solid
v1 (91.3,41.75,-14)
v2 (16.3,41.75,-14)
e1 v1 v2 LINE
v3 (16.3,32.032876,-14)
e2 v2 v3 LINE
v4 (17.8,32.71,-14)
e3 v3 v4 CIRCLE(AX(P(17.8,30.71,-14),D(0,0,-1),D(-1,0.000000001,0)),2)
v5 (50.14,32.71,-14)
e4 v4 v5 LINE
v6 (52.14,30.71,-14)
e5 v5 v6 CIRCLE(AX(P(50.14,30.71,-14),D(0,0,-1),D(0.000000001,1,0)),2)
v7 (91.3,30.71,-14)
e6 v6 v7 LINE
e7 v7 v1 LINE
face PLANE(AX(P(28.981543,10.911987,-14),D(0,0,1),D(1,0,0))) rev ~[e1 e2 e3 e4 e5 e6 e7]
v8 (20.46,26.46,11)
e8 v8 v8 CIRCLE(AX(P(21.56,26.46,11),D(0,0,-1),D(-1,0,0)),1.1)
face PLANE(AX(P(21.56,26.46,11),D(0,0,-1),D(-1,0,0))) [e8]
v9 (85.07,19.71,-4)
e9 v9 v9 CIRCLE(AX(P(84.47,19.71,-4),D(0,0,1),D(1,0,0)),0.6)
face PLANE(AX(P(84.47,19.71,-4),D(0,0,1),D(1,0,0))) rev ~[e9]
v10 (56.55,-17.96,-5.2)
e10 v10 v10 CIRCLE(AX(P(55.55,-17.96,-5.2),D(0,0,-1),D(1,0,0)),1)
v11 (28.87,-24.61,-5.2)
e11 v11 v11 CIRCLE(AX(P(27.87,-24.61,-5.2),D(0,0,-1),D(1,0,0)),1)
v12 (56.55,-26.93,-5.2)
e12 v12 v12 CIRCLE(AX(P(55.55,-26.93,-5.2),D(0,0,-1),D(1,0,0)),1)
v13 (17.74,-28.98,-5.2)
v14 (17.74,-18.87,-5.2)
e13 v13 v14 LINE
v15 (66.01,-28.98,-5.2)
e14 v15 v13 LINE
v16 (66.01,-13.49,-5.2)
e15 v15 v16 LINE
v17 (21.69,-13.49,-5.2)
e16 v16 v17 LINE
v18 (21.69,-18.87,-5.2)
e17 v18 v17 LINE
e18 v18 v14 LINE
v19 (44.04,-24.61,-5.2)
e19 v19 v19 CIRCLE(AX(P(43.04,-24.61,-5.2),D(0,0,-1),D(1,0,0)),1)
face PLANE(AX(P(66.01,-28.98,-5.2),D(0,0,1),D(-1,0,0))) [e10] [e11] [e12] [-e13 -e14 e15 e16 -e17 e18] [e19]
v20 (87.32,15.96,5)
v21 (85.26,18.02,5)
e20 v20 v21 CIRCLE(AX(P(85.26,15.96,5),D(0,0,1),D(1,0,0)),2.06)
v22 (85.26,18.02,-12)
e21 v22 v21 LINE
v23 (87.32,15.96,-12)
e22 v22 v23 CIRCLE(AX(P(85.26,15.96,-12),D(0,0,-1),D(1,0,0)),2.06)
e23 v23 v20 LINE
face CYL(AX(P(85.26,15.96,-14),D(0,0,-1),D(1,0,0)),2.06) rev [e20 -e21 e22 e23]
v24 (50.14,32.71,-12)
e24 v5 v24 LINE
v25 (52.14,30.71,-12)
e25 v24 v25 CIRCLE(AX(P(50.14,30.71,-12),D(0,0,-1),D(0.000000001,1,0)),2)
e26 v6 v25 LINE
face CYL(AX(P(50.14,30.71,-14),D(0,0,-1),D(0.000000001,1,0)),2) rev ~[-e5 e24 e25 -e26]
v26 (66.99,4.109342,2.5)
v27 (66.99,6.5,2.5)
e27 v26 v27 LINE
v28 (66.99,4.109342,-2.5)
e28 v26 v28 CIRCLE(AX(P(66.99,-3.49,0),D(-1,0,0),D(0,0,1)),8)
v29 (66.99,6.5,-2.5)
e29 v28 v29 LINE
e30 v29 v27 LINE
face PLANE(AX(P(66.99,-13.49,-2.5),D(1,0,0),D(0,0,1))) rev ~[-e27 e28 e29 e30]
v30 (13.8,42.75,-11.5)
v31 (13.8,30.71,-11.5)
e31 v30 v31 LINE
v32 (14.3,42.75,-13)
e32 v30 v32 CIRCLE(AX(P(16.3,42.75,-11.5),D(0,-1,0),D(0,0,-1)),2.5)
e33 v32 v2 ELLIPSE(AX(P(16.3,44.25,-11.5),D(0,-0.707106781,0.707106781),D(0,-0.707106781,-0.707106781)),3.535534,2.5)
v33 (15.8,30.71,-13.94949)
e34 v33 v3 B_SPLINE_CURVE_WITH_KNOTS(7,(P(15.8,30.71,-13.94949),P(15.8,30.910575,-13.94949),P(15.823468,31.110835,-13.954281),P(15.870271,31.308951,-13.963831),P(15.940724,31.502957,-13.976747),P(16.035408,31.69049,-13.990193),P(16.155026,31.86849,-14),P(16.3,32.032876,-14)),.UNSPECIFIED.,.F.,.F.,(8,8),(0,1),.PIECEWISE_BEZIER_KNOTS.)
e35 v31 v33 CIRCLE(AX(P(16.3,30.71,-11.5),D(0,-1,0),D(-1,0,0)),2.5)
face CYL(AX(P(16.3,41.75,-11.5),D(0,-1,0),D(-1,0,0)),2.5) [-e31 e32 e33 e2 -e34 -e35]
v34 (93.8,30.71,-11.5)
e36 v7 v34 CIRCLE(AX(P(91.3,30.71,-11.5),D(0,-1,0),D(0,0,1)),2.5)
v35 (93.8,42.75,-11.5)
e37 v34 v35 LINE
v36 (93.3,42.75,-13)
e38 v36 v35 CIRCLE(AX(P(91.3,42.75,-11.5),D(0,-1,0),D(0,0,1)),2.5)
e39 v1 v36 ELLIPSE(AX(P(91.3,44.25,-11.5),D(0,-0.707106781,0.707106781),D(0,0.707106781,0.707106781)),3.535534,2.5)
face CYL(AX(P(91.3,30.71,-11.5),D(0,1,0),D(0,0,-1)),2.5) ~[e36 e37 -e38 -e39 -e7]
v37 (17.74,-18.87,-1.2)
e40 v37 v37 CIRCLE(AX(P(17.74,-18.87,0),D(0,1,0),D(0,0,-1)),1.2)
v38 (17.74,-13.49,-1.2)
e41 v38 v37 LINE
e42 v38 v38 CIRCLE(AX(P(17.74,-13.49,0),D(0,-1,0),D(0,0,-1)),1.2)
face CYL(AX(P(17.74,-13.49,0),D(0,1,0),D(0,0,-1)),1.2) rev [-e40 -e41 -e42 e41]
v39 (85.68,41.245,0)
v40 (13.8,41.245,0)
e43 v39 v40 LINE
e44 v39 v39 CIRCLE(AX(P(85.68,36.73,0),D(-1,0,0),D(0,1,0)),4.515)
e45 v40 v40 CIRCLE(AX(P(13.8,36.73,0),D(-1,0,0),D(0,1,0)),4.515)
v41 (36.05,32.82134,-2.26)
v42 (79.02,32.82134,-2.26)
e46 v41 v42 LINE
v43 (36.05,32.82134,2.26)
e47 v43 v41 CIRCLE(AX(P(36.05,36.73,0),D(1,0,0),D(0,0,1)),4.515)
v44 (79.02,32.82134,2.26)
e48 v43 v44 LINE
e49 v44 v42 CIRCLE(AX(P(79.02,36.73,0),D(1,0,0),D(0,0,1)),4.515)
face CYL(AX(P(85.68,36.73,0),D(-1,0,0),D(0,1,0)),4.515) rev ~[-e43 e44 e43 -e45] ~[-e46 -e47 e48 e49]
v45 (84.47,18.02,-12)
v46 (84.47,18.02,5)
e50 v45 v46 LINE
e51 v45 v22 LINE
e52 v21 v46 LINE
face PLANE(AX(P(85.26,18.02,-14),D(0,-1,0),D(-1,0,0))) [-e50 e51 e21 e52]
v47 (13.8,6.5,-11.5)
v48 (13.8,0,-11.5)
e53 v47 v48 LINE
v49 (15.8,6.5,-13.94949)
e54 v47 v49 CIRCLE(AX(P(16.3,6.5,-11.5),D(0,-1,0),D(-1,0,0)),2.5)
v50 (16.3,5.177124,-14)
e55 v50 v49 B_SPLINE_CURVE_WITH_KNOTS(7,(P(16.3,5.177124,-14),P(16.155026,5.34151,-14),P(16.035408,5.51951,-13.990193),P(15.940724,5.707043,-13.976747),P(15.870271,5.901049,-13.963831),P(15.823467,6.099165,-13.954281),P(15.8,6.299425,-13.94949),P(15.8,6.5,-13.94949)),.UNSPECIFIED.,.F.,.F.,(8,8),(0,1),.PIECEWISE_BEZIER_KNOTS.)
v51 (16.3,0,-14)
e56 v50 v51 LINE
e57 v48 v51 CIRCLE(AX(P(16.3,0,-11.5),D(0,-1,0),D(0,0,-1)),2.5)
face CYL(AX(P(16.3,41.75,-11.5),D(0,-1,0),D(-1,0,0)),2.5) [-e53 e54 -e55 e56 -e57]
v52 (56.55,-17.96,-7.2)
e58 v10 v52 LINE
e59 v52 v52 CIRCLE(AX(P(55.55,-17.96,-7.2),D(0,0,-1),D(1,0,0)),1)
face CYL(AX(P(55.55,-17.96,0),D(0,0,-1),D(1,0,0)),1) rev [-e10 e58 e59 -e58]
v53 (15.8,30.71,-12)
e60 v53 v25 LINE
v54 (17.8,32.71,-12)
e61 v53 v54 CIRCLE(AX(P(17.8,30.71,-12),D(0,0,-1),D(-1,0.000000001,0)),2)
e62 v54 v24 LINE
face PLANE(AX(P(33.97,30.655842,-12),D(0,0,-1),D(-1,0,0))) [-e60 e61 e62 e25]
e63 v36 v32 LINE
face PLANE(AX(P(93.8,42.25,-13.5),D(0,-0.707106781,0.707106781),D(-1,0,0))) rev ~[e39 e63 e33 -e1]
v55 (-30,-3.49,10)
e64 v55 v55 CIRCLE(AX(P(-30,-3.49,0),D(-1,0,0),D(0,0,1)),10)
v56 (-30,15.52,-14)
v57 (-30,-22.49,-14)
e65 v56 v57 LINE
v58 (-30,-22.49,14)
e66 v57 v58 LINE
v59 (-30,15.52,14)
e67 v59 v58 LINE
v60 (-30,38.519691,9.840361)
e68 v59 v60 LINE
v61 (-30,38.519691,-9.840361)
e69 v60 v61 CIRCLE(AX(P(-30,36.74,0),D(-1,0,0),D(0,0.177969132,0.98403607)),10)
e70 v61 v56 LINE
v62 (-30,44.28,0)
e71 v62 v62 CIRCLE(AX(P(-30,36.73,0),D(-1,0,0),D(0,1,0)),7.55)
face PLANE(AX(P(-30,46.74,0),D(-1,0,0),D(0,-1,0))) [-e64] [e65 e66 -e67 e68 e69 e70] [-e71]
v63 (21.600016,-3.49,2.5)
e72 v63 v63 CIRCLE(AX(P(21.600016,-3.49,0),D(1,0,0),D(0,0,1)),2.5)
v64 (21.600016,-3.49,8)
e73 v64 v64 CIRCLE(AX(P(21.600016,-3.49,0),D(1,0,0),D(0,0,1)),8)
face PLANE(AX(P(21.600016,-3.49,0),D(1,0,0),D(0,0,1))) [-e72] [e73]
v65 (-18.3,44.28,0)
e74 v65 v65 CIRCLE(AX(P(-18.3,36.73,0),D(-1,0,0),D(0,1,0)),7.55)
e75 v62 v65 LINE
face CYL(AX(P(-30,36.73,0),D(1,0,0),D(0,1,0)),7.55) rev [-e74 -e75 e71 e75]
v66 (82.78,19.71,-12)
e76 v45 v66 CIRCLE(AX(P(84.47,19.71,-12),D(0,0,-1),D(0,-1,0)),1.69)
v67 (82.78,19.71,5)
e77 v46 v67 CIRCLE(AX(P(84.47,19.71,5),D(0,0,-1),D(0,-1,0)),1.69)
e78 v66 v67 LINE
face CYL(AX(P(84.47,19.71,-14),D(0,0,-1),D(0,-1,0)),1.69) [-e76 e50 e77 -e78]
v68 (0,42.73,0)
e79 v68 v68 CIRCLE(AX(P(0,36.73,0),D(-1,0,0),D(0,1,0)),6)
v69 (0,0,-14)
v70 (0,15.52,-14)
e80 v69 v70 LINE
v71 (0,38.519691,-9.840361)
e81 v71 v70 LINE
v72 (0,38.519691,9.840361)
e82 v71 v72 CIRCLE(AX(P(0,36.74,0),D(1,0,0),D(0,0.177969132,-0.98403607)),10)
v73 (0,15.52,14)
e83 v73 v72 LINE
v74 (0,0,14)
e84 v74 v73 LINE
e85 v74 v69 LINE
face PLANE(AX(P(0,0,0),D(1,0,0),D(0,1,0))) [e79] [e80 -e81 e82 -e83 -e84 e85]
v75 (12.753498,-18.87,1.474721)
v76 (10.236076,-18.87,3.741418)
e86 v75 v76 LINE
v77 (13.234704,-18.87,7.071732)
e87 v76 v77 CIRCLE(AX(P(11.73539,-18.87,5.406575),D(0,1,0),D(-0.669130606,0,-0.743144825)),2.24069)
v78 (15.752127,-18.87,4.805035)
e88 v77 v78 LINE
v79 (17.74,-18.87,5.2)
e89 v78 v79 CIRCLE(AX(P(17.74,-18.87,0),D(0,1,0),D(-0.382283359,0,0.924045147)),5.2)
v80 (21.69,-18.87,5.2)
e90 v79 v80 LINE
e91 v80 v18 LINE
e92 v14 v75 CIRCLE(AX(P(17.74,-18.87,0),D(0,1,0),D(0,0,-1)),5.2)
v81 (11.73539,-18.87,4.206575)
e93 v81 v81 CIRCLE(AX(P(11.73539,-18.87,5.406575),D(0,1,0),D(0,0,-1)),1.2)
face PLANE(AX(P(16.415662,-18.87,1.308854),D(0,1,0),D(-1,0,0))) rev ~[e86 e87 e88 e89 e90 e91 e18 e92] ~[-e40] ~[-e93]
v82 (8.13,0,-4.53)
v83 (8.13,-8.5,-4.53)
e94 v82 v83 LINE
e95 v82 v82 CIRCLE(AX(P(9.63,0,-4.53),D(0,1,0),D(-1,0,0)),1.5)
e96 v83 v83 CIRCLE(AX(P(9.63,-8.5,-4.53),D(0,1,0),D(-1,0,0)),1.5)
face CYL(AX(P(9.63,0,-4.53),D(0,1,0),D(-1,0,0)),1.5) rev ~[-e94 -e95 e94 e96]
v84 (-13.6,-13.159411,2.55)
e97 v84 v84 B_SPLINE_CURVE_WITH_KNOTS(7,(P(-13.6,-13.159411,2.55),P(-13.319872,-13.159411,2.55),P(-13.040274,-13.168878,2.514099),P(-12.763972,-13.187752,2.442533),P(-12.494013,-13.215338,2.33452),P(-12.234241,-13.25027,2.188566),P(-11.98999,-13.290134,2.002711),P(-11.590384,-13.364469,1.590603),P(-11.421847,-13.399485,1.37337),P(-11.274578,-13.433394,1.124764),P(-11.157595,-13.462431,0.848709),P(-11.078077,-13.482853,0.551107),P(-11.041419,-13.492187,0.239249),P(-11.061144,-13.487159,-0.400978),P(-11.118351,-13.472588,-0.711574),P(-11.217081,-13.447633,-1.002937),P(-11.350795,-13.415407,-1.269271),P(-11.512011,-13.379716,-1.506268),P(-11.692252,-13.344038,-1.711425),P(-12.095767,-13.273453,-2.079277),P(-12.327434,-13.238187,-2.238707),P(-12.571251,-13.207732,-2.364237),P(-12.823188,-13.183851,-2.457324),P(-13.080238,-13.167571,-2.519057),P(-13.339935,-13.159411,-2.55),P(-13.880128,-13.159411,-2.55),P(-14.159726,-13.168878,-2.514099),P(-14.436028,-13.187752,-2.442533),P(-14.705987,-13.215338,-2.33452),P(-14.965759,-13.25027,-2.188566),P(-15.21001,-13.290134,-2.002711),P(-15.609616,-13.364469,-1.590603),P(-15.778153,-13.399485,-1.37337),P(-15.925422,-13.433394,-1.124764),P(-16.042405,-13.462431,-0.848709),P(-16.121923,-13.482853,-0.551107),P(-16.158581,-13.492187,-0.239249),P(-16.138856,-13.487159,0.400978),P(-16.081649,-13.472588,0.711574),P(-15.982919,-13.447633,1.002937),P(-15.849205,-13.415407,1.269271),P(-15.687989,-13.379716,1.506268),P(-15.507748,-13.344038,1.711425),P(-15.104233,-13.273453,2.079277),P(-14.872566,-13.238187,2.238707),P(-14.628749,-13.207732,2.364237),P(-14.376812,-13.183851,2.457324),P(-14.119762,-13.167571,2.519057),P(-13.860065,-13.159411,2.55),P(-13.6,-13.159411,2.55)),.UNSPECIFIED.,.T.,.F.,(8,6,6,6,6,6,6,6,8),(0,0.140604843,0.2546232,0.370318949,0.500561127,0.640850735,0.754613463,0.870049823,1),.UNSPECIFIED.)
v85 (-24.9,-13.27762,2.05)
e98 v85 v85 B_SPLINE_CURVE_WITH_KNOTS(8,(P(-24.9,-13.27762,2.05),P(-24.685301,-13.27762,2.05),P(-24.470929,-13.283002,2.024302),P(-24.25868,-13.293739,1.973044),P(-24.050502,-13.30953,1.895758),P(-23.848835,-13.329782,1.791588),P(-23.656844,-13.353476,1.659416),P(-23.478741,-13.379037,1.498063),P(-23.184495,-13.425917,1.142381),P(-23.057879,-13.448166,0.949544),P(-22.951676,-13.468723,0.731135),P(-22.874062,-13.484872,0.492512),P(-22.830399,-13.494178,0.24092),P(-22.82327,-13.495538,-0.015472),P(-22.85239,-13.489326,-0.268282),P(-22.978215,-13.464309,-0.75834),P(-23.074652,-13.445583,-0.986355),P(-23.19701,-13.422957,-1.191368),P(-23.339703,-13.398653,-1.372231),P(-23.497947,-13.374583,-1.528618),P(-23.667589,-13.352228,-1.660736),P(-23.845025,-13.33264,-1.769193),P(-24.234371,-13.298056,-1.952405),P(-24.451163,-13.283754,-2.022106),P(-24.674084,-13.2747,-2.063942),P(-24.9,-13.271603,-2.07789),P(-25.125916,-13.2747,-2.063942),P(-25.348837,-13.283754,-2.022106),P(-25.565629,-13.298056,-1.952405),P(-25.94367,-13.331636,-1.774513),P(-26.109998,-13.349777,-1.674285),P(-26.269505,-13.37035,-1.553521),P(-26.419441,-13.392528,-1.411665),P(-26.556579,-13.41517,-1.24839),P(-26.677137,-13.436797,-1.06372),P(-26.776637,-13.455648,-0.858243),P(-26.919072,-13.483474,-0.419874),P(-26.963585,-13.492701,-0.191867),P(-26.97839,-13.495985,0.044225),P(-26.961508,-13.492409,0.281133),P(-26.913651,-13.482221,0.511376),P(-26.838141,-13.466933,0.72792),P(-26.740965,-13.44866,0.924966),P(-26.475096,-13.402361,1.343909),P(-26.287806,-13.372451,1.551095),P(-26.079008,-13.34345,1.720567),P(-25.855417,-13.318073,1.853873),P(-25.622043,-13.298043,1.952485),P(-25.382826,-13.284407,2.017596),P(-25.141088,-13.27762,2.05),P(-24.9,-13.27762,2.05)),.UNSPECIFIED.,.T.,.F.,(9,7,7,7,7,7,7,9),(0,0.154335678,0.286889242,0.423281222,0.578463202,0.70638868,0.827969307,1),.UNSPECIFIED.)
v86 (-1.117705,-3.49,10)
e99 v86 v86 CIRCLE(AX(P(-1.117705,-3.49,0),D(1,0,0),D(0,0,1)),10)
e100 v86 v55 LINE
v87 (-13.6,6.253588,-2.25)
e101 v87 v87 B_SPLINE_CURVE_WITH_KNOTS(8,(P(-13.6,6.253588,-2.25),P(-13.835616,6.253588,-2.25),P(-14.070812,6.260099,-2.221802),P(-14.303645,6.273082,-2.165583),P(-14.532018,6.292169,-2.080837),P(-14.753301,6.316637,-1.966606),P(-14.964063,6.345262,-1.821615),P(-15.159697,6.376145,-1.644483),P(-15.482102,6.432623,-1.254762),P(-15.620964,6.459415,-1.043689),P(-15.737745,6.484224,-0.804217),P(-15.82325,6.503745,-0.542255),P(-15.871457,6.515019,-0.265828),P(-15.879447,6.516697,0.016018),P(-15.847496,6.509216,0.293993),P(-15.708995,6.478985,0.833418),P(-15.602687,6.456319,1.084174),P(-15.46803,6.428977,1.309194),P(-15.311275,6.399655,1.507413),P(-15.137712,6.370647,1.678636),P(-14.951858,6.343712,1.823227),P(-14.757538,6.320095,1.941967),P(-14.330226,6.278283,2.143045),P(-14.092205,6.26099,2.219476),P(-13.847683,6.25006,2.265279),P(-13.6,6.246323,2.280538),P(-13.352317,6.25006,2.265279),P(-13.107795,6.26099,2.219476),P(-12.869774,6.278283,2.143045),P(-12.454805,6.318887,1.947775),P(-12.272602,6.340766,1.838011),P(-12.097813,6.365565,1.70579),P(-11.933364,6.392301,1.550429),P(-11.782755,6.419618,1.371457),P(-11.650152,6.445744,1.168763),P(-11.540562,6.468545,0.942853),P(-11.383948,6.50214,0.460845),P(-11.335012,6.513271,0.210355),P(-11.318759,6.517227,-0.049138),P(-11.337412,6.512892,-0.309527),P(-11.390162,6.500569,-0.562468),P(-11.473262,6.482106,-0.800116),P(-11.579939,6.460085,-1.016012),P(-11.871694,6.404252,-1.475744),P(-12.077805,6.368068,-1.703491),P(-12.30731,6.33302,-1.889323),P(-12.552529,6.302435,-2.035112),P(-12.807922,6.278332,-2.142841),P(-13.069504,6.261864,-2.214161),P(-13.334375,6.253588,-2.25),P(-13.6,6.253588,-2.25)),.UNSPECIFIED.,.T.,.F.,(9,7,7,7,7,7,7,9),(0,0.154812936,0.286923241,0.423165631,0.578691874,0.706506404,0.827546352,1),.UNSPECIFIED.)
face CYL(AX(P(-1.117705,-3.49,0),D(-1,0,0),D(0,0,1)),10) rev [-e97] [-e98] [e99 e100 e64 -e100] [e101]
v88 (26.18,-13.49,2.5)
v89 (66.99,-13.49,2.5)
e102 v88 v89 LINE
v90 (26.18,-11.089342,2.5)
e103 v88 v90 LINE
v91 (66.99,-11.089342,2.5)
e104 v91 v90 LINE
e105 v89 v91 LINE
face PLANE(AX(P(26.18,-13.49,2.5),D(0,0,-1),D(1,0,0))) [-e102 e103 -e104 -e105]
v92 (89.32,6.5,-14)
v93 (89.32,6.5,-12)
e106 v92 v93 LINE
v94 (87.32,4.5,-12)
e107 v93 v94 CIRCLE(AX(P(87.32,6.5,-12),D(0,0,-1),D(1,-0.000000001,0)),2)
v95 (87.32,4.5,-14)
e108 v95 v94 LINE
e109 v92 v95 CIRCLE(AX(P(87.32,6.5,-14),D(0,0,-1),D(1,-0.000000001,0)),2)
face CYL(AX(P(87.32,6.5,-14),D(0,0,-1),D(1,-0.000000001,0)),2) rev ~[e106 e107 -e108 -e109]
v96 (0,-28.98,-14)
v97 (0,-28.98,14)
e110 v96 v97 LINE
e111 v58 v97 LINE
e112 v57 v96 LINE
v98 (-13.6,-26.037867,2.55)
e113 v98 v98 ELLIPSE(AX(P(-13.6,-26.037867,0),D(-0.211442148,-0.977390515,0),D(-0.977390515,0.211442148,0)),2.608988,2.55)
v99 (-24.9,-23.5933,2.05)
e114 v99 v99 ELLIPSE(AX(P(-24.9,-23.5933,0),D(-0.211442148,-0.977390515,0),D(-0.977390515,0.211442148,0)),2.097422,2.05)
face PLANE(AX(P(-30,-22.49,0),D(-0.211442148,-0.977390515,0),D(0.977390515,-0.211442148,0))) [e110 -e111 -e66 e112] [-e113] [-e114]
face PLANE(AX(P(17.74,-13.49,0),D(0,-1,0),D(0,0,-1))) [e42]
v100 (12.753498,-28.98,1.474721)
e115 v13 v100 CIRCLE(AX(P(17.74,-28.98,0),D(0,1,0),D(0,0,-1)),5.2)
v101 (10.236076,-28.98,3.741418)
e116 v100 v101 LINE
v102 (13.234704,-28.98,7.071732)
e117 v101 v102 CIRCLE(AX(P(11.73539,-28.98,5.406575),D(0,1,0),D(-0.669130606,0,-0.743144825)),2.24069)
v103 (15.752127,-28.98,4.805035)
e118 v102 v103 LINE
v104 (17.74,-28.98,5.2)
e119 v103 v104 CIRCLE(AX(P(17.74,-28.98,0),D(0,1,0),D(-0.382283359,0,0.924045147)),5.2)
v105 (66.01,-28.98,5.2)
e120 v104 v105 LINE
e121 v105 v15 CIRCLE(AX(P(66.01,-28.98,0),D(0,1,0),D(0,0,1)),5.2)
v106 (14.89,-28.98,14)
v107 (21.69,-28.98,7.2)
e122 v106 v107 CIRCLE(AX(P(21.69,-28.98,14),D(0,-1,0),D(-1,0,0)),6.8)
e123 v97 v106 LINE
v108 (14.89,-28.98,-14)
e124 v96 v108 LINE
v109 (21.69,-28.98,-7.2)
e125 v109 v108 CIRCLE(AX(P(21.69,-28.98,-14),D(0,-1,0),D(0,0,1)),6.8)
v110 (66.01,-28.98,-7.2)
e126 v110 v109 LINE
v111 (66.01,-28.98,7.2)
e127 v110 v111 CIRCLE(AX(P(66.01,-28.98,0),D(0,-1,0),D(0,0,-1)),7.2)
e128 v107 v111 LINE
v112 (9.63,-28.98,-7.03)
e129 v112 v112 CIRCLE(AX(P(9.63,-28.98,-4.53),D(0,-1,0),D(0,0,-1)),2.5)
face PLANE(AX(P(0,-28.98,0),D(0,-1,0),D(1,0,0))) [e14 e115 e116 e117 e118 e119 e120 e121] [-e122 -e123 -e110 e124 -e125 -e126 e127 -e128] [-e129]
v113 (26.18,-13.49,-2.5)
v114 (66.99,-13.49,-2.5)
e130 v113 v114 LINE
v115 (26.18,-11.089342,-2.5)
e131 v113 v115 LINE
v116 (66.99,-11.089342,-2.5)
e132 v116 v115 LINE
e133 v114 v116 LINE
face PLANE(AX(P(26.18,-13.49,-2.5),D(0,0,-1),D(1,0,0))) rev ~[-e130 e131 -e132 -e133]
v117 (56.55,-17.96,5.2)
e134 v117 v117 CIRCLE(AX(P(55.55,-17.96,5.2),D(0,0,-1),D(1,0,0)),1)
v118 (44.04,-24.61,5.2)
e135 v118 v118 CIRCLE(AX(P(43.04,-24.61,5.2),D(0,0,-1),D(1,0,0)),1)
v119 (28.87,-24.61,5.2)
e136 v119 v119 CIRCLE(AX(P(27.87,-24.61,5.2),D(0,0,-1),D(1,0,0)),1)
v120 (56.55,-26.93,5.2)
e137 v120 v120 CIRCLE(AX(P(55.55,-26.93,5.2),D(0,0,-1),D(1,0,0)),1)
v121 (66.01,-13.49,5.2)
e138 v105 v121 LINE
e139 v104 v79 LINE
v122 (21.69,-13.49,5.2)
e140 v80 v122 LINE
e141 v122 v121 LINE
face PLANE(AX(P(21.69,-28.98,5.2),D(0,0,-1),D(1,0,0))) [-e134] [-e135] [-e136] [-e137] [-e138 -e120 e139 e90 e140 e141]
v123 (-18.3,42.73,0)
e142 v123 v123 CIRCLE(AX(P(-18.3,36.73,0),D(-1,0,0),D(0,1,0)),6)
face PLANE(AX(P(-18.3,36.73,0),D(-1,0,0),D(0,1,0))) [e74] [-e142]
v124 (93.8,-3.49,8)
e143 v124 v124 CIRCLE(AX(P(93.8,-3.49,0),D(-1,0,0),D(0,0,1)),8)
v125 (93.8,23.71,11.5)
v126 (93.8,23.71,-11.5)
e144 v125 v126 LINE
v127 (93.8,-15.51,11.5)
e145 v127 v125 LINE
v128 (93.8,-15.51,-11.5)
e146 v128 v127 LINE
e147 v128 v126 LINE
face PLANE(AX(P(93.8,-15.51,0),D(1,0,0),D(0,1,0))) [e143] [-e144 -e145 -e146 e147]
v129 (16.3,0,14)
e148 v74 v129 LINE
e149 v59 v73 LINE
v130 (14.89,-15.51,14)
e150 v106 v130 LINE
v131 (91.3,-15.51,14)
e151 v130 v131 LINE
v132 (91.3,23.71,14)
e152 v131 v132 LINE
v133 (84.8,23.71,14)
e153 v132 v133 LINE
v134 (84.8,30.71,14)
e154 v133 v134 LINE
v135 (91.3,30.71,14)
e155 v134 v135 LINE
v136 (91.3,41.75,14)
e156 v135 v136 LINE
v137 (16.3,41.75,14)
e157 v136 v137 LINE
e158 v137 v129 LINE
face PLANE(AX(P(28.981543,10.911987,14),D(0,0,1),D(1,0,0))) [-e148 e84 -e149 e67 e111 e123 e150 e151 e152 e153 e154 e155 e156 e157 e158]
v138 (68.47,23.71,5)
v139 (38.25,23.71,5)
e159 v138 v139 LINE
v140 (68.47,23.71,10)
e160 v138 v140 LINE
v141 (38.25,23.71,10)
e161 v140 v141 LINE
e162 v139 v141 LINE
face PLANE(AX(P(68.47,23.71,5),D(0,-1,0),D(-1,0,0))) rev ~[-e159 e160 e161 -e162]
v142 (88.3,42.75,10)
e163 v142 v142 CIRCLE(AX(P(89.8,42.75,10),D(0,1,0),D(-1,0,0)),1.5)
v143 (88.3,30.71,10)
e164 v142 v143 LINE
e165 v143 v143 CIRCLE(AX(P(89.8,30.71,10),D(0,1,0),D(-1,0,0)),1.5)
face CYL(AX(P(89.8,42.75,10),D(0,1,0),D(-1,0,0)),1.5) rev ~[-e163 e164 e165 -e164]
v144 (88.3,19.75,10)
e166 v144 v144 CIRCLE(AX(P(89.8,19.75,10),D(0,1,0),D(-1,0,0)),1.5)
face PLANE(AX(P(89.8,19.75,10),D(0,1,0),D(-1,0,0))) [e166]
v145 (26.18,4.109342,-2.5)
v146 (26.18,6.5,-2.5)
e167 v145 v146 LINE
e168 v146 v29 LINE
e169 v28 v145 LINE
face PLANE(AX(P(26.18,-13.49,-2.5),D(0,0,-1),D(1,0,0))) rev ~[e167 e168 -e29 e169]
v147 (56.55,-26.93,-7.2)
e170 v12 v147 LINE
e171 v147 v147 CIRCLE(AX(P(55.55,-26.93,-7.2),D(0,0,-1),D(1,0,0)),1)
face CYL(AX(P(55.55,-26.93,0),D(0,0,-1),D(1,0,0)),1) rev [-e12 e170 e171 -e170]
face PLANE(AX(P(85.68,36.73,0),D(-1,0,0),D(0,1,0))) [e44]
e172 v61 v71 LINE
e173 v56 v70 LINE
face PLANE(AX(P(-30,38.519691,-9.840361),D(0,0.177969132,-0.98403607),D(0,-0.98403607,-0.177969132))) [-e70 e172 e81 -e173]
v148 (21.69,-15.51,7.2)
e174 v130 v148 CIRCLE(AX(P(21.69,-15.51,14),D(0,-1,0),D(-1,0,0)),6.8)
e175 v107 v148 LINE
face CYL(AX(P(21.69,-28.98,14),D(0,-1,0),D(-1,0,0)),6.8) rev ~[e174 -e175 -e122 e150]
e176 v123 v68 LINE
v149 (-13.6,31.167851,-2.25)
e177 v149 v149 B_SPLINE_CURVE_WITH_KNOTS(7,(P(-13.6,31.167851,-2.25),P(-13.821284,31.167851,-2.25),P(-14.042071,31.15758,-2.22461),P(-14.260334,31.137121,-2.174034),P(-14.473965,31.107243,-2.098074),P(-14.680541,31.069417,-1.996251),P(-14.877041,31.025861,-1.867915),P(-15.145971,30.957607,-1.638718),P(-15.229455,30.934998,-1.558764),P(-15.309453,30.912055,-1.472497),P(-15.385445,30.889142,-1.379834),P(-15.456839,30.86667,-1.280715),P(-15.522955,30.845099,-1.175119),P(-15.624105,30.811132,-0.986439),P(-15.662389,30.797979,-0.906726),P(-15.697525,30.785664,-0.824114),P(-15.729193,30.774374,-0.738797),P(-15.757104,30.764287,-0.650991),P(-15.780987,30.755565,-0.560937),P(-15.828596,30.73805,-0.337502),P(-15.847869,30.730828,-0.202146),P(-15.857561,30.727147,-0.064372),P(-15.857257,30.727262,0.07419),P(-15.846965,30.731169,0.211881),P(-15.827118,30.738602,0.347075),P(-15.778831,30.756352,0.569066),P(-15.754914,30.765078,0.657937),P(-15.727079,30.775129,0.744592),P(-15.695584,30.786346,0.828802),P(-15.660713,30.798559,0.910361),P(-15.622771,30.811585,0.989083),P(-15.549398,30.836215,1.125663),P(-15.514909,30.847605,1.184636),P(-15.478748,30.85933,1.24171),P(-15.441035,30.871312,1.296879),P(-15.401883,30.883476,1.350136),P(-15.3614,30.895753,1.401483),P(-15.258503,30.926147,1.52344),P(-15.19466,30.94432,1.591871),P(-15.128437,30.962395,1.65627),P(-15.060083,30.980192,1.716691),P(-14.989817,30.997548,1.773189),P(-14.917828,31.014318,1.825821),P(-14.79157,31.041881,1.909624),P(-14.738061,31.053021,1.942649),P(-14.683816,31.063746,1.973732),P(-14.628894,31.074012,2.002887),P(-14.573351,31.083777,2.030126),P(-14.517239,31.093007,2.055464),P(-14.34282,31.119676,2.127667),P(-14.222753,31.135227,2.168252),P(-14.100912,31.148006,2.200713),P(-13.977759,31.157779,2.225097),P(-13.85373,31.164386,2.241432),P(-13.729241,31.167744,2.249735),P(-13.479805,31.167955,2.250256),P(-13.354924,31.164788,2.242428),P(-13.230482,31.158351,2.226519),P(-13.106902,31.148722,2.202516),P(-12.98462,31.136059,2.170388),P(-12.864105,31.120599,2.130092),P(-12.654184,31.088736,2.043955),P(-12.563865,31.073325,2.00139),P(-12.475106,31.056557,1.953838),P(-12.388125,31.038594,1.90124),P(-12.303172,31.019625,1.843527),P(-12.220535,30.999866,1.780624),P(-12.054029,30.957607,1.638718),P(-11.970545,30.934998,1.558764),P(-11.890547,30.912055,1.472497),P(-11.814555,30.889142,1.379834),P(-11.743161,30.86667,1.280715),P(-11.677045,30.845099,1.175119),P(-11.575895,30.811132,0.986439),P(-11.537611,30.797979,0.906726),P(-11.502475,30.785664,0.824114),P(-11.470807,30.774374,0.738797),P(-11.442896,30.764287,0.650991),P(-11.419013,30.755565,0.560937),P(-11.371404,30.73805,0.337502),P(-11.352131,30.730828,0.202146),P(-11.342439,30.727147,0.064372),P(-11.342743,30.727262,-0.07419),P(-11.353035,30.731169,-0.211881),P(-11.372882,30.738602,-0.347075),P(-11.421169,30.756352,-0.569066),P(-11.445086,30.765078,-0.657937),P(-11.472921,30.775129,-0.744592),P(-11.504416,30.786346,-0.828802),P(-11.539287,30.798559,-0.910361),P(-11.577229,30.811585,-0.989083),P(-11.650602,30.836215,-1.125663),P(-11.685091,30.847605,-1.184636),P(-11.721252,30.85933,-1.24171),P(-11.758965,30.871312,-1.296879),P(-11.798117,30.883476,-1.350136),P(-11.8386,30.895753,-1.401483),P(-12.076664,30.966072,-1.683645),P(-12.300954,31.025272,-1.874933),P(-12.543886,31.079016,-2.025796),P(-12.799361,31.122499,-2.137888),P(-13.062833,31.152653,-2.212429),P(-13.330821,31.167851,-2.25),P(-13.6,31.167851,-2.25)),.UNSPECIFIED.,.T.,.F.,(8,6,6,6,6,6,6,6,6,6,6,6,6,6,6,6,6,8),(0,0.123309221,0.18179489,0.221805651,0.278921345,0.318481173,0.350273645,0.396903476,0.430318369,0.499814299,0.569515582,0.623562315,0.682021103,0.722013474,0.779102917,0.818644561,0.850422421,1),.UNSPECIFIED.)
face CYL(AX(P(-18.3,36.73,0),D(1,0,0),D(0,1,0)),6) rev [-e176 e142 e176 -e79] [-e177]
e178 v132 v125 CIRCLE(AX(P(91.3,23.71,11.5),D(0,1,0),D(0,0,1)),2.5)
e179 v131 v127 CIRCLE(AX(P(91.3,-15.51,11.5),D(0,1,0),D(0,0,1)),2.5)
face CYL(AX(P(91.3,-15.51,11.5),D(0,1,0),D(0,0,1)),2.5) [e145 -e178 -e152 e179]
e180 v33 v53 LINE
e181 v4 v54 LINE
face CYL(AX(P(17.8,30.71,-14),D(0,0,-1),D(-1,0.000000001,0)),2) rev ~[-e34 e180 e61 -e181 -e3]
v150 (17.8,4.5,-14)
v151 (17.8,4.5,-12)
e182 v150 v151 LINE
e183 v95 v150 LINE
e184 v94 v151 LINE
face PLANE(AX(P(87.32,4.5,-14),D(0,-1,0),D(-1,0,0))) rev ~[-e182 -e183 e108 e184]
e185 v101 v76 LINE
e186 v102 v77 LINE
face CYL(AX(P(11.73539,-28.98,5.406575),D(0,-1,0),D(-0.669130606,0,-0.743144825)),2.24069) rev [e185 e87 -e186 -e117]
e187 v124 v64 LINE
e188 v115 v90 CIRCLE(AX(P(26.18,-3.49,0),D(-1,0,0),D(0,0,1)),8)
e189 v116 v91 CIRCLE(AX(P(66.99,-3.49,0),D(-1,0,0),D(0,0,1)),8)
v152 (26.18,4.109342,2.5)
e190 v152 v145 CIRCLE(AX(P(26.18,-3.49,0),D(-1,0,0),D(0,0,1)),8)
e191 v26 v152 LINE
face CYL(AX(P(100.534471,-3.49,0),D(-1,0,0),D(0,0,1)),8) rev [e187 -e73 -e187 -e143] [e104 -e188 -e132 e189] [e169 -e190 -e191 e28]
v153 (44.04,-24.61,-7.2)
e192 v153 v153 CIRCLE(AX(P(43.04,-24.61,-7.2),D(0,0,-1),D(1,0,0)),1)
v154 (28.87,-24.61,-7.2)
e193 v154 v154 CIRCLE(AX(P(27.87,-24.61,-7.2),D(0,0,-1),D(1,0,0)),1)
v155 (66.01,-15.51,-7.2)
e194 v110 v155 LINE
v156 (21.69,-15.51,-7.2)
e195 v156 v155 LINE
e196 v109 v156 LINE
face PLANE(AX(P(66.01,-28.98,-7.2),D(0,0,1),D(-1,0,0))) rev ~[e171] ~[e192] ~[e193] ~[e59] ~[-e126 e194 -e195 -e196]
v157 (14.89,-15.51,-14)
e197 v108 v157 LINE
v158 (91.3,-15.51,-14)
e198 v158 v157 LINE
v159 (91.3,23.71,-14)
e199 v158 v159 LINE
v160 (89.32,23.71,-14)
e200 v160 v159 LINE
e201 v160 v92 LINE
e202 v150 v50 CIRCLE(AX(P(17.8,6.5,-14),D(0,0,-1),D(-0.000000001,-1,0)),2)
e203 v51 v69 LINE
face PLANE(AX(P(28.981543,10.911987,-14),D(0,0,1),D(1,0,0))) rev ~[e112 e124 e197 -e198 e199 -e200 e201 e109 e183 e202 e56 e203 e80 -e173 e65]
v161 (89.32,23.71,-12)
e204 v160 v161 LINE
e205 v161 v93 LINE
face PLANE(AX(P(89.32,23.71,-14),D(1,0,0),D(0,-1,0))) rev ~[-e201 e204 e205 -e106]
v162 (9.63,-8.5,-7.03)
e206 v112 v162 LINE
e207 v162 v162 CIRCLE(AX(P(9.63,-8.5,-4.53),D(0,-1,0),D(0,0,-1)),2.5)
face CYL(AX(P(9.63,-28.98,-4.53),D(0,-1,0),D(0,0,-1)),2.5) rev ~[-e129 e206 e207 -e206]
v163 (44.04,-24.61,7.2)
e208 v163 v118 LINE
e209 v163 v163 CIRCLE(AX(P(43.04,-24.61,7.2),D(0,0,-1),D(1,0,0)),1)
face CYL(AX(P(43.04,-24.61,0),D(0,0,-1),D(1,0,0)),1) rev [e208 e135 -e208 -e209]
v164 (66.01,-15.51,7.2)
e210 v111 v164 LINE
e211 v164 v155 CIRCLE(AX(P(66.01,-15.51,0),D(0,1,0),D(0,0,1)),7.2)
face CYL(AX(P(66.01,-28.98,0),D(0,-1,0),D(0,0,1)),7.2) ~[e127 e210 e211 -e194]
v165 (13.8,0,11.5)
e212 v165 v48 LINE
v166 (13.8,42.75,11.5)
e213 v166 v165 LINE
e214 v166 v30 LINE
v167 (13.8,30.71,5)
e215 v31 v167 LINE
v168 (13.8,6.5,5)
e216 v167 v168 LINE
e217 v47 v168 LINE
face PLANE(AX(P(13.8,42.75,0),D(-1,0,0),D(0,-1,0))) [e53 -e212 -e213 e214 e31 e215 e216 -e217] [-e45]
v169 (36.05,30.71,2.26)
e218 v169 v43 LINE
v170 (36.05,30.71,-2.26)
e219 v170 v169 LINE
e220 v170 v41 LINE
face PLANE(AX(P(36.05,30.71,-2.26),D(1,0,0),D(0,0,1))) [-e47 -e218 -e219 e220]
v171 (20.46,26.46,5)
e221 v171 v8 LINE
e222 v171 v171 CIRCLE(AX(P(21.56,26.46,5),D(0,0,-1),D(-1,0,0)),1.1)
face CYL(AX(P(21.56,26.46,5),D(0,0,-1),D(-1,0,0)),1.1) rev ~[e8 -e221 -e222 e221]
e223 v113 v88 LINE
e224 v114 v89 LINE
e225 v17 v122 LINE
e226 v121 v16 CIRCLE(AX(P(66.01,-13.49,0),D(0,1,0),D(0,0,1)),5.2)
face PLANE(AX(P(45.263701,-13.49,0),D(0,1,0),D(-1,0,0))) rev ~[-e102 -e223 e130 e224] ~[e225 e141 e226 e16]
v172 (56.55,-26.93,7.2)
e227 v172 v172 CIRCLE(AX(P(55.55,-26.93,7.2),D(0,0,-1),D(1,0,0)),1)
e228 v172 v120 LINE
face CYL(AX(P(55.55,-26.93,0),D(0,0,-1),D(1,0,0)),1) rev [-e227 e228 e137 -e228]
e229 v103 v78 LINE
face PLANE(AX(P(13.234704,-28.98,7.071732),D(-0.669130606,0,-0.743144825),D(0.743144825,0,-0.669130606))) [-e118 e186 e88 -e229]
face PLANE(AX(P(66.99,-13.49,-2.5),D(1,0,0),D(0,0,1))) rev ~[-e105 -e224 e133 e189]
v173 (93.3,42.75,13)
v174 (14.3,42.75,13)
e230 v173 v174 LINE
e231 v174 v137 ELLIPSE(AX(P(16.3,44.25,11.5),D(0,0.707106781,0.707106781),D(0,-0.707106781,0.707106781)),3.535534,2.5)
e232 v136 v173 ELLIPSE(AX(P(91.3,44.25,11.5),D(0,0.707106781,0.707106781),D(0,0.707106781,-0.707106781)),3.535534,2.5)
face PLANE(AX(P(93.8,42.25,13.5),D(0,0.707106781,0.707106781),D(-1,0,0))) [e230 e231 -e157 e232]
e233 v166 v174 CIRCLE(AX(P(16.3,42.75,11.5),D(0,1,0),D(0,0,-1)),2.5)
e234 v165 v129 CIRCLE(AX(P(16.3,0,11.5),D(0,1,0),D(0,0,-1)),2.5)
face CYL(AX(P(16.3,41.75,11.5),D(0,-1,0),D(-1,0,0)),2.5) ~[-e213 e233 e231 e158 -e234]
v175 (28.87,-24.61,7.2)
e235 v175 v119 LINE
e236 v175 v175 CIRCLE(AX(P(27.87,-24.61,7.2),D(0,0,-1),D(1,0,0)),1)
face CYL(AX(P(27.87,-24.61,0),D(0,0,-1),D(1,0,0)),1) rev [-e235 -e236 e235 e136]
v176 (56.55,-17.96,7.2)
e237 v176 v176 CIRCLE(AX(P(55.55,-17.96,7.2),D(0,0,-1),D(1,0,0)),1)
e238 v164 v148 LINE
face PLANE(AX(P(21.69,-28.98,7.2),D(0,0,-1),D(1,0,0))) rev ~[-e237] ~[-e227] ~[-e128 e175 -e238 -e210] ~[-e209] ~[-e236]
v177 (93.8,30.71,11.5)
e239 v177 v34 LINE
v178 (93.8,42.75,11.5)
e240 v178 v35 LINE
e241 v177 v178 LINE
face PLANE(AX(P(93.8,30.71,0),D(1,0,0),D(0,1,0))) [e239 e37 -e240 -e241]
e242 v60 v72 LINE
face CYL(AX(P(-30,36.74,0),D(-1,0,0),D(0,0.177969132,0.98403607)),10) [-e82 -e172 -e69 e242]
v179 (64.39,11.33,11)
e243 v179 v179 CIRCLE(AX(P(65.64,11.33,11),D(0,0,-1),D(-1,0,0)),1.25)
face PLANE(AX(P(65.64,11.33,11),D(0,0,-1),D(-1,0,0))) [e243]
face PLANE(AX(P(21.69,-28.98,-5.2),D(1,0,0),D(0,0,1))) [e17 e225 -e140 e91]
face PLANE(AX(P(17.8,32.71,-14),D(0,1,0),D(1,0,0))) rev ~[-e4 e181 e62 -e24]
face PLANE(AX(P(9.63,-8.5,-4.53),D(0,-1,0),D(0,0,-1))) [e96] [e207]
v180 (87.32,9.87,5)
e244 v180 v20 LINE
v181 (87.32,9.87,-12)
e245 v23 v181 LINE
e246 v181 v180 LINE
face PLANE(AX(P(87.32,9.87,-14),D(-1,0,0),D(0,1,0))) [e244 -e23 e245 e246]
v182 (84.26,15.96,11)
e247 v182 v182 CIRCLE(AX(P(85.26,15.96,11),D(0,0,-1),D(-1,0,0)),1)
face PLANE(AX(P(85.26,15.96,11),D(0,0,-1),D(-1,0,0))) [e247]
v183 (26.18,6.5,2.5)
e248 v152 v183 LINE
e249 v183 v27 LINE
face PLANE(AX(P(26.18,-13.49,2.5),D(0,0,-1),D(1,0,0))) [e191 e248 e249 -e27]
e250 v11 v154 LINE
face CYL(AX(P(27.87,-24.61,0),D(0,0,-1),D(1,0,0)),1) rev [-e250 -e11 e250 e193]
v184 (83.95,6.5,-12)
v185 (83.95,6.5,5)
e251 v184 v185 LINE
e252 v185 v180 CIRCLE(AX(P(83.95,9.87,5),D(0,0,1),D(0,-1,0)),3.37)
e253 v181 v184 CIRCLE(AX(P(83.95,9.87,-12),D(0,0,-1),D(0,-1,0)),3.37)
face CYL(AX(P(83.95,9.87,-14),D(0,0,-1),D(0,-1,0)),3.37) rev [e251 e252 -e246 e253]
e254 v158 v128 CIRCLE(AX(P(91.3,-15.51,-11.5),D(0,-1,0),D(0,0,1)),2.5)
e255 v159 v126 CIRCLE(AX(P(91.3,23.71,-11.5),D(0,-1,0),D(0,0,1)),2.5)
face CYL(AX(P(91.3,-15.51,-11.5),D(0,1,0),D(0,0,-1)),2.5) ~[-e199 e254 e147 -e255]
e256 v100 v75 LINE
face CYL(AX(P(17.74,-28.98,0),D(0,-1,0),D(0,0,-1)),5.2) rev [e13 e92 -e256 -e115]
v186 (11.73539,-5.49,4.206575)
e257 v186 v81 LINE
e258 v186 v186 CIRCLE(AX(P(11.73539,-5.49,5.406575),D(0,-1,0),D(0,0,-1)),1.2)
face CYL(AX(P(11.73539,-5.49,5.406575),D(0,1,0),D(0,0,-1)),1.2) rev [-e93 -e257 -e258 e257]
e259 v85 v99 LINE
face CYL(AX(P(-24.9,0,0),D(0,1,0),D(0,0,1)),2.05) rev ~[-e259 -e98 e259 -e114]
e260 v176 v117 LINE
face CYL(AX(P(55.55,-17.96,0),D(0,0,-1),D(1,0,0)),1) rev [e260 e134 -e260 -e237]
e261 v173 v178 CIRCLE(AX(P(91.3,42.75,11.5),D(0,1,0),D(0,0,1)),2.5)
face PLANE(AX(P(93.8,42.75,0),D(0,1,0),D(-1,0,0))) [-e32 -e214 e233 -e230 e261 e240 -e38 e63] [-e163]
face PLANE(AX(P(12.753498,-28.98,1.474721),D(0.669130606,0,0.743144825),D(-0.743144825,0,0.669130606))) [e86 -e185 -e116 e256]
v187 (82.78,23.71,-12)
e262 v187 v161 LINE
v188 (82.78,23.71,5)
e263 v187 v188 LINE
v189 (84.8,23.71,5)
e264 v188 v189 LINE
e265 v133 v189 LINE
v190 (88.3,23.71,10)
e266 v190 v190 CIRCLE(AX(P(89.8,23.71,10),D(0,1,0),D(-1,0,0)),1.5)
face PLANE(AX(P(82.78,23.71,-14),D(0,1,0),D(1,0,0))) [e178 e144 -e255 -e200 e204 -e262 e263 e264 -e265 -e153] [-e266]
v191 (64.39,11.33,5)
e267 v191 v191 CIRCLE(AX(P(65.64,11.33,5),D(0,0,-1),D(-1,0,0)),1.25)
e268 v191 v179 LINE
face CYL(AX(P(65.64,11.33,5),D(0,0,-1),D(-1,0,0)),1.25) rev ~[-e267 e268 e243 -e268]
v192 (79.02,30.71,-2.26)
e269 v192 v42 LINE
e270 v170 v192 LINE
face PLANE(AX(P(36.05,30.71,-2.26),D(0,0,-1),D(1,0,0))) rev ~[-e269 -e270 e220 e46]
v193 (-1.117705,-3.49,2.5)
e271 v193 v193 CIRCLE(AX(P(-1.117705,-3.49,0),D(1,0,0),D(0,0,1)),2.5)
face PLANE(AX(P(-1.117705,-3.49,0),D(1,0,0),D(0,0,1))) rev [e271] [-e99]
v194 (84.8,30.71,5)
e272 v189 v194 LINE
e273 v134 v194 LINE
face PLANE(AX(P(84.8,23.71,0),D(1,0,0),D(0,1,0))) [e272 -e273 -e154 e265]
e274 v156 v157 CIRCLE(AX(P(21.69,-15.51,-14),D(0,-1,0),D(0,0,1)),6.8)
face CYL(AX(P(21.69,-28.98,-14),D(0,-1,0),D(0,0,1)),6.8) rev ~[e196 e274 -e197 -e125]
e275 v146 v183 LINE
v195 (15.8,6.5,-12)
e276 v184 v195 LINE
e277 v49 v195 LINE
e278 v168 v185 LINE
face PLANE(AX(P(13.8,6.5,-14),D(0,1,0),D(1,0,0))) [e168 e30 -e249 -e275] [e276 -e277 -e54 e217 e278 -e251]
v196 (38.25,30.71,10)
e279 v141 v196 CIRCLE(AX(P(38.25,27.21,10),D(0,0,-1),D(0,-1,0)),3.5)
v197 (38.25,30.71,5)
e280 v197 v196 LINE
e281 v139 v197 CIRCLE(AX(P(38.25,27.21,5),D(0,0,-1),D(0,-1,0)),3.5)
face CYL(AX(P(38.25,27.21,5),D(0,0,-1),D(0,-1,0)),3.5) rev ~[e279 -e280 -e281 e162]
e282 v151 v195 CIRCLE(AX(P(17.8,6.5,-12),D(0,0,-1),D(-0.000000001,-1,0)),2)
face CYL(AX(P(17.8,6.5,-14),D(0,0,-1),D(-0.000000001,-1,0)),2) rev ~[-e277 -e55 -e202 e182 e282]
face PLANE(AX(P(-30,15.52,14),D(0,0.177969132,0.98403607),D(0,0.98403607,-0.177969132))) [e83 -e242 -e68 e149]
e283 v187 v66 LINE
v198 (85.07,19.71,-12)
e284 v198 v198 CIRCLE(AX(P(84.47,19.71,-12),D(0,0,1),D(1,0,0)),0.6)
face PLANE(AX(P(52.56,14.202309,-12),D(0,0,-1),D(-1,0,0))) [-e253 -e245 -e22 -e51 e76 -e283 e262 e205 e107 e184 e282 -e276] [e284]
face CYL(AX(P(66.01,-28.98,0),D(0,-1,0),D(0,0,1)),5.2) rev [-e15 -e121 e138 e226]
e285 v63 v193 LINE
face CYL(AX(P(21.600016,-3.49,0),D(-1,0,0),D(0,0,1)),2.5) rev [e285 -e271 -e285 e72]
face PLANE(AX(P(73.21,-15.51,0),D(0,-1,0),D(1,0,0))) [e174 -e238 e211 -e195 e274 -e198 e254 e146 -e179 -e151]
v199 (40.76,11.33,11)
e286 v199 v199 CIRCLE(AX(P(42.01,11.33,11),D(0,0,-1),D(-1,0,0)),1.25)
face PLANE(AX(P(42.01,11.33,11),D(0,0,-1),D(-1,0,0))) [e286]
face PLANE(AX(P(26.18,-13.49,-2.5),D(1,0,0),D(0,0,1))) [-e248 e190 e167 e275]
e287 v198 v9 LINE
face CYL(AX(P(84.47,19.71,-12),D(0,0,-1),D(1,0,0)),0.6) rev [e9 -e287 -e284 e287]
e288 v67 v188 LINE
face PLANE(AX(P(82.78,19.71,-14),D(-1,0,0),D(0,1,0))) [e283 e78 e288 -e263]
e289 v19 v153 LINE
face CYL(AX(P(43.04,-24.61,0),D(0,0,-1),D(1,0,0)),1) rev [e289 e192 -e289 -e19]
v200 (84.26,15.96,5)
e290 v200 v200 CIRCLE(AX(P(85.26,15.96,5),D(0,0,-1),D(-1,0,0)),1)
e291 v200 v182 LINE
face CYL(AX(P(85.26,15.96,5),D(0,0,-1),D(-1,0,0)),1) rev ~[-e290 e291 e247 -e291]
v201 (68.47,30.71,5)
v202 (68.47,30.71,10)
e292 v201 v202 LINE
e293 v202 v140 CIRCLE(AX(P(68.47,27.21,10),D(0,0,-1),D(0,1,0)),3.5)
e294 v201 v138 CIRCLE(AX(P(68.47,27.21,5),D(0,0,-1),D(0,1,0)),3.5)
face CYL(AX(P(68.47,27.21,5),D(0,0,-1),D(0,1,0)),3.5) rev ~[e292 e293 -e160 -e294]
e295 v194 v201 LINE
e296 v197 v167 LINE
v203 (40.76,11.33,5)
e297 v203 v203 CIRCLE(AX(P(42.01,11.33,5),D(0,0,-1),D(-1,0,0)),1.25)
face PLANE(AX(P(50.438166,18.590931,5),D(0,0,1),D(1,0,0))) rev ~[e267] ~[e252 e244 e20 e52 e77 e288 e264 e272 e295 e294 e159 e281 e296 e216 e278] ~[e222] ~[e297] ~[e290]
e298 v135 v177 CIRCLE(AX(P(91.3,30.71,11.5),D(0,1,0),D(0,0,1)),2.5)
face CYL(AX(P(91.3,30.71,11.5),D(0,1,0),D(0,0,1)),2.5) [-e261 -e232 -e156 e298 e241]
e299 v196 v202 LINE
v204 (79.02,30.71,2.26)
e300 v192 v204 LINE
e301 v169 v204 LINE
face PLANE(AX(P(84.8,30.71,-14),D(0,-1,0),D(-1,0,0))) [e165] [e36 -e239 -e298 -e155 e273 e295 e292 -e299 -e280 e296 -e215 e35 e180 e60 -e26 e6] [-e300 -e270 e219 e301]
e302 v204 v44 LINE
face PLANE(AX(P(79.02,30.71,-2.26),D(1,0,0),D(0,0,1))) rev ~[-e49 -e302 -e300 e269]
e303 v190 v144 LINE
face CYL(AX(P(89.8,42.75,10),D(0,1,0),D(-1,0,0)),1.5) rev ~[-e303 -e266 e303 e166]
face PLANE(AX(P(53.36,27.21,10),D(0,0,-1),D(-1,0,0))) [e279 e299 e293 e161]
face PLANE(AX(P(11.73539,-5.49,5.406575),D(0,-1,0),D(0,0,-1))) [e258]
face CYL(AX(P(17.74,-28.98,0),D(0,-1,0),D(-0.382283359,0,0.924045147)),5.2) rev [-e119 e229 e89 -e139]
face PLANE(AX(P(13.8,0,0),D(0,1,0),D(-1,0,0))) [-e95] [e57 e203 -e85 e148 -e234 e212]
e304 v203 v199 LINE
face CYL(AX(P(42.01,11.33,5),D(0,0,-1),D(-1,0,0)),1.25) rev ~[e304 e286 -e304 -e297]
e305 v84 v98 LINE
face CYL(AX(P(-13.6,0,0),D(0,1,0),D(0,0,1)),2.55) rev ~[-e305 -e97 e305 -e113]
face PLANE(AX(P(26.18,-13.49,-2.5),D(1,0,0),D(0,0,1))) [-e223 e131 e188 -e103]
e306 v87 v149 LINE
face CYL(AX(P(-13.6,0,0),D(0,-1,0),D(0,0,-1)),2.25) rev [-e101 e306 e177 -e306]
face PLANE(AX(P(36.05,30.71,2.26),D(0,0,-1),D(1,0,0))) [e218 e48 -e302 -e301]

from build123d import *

# Parameters (mm, degrees)
SKETCH1_R                = 1
EXTRUDE1_DEPTH           = 14
CHAMFER1_SIZE            = 1
FILLET1_R                = 2.5
EXTRUDE4_DEPTH           = 30
SKETCH5_R                = 1.5
EXTRUDE5_DEPTH           = 23
SKETCH6_R                = 2.55
SKETCH6_R_2              = 2.05
EXTRUDE6_DEPTH           = 106.731109897
EXTRUDE7_REACH           = 123.359
EXTRUDE8_DEPTH           = 15.49
EXTRUDE21_DEPTH          = 10.11
SKETCH22_R               = 1.2
EXTRUDE22_DEPTH          = 113.348088101
EXTRUDE23_DEPTH          = 113.348088101
EXTRUDE23_DEPTH_BACK     = 8
SKETCH23_R               = 1.2
SKETCH12_R               = 1.5
EXTRUDE12_DEPTH          = 8.5
SKETCH13_R               = 2.5
EXTRUDE13_DEPTH          = 20.48
EXTRUDE14_REACH          = 107.731
EXTRUDE14_END_RADIUS     = 6
SKETCH14_R               = 2.25
SKETCH15_W               = 40.81
SKETCH15_H               = 5
EXTRUDE15_DEPTH          = 20
EXTRUDE24_DEPTH          = 19
EXTRUDE25_DEPTH          = 2
EXTRUDE26_DEPTH          = 5
SKETCH27_R               = 1.25
SKETCH27_R_2             = 1.1
SKETCH27_R_3             = 1
EXTRUDE27_DEPTH          = 6
SKETCH20_R               = 0.6
EXTRUDE20_DEPTH          = 8
CUT_EXTRUDE_1_REACH      = 114.06
CUT_EXTRUDE_1_END_RADIUS = 4.515
SKETCH_1_W               = 42.97
SKETCH_1_H               = 4.52


with BuildPart() as part:
    # Sketch1 → Extrude1 (new, symmetric)
    with BuildSketch(Plane.XY):
        Polygon((0, 0), (0, 46.74), (-30, 46.74), (-30, -22.49), (0, -28.98), (73.21, -28.98), (73.21, -15.51), (93.8, -15.51), (93.8, 23.71), (84.8, 23.71), (84.8, 30.71), (93.8, 30.71), (93.8, 42.75), (13.8, 42.75), (13.8, 0), align=None)
        with Locations((55.55, -17.96)):
            Circle(SKETCH1_R, mode=Mode.SUBTRACT)
        with Locations((55.55, -26.93)):
            Circle(SKETCH1_R, mode=Mode.SUBTRACT)
        with Locations((43.04, -24.61)):
            Circle(SKETCH1_R, mode=Mode.SUBTRACT)
        with Locations((27.87, -24.61)):
            Circle(SKETCH1_R, mode=Mode.SUBTRACT)
    extrude(amount=EXTRUDE1_DEPTH, both=True)

    # Chamfer1
    chamfer1_edges = [part.edges().sort_by_distance(p)[0] for p in [
        (53.8, 42.75, -14),
        (53.8, 42.75, 14),
    ]]
    chamfer(chamfer1_edges, length=CHAMFER1_SIZE)

    # Fillet1
    fillet1_edges = [part.edges().sort_by_distance(p)[0] for p in [
        (13.8, 20.875, -14),
        (93.8, 4.1, -14),
        (93.8, 36.23, -14),
        (93.8, 36.23, 14),
        (93.8, 4.1, 14),
        (13.8, 20.875, 14),
    ]]
    fillet(fillet1_edges, radius=FILLET1_R)

    # Sketch2 → Extrude4 (cut)
    with BuildSketch(Plane.ZY.offset(30)):
        with BuildLine():
            Line((-9.840360705, 38.519691323), (-14, 15.52))
            Line((-14, 15.52), (-14, 50.25246906))
            Line((-14, 50.25246906), (14, 50.25246906))
            Line((14, 50.25246906), (14, 15.52))
            Line((14, 15.52), (9.840360705, 38.519691323))
            ThreePointArc((9.840360705, 38.519691323), (0, 46.74), (-9.840360705, 38.519691323))
        make_face()
    extrude(amount=-EXTRUDE4_DEPTH, mode=Mode.SUBTRACT)

    # Sketch3 → Cut-Revolve1 (revolve, cut)
    with BuildSketch(Plane.XY):
        Polygon((-30, 36.73), (-30, 44.28), (-18.3, 44.28), (-18.3, 42.73), (0, 42.73), (0, 41.245), (13.8, 41.245), (85.68, 41.245), (85.68, 36.73), align=None)
    revolve(axis=Axis((85.68, 36.73, 0), (-1, 0, 0)), mode=Mode.SUBTRACT)

    # Sketch5 → Extrude5 (cut)
    with BuildSketch(Plane(origin=(0, 42.75, 0), x_dir=(1, 0, 0), z_dir=(0, 1, 0))):
        with Locations(Location((89.8, -10, 0), (0, 0, 180))):
            Circle(SKETCH5_R)
    extrude(amount=-EXTRUDE5_DEPTH, mode=Mode.SUBTRACT)

    # Sketch6 → Extrude6 (cut, through all)
    with BuildSketch(Plane(origin=(0, 0, 0), x_dir=(1, 0, 0), z_dir=(0, 1, 0))):
        with Locations(Location((-13.6, 0, 0), (0, 0, 270))):
            Circle(SKETCH6_R)
        with Locations(Location((-24.9, 0, 0), (0, 0, 270))):
            Circle(SKETCH6_R_2)
    extrude(amount=-EXTRUDE6_DEPTH, mode=Mode.SUBTRACT)

    # Extrude7: up to this face of the body (flat: up to its plane)
    extrude7_end = Plane(part.part.faces().sort_by_distance((83.459484326, -15.51, 0))[0])
    # Sketch7 → Extrude7 (cut, up to the picked face)
    with BuildSketch(Plane.XZ.offset(28.98), mode=Mode.PRIVATE) as extrude7_sk1:
        with BuildLine():
            Line((21.69, 7.2), (66.01, 7.2))
            ThreePointArc((66.01, 7.2), (73.21, 0), (66.01, -7.2))
            Line((66.01, -7.2), (21.69, -7.2))
            ThreePointArc((21.69, -7.2), (16.881673888, -9.191673888), (14.89, -14))
            Line((14.89, -14), (80.319549596, -14))
            Line((80.319549596, -14), (80.319549596, 14))
            Line((80.319549596, 14), (14.89, 14))
            ThreePointArc((14.89, 14), (16.881673888, 9.191673888), (21.69, 7.2))
        make_face()
    extrude7_tool1 = split(extrude(extrude7_sk1.sketch, amount=-EXTRUDE7_REACH, mode=Mode.PRIVATE), bisect_by=extrude7_end, keep=Keep.BOTH, mode=Mode.PRIVATE)
    add(extrude7_tool1.solids().sort_by(Axis((47.604775, -28.98, 13.28831), (0, 1, 0)))[0], mode=Mode.SUBTRACT)

    # Sketch8 → Extrude8 (cut)
    with BuildSketch(Plane.XZ.offset(28.98)):
        with BuildLine():
            Line((21.69, 5.2), (66.01, 5.2))
            ThreePointArc((66.01, 5.2), (71.21, 0), (66.01, -5.2))
            Line((66.01, -5.2), (21.69, -5.2))
            Line((21.69, -5.2), (21.69, 5.2))
        make_face()
    extrude(amount=-EXTRUDE8_DEPTH, mode=Mode.SUBTRACT)

    # Sketch9 → Extrude21 (cut)
    with BuildSketch(Plane.XZ.offset(28.98)):
        with BuildLine():
            Line((17.74, 5.2), (21.69, 5.2))
            Line((21.69, 5.2), (21.69, -5.2))
            Line((21.69, -5.2), (17.74, -5.2))
            ThreePointArc((17.74, -5.2), (13.574153864, -3.112189899), (12.753498359, 1.474720781))
            Line((12.753498359, 1.474720781), (10.23607572, 3.741418307))
            ThreePointArc((10.23607572, 3.741418307), (10.070232818, 6.90588939), (13.234703901, 7.071732292))
            Line((13.234703901, 7.071732292), (15.75212654, 4.805034766))
            ThreePointArc((15.75212654, 4.805034766), (16.726634514, 5.100302971), (17.74, 5.2))
        make_face()
    extrude(amount=-EXTRUDE21_DEPTH, mode=Mode.SUBTRACT)

    # Sketch22 → Extrude22 (cut, through all)
    with BuildSketch(Plane.XZ.offset(13.49)):
        with Locations(Location((17.74, 0, 0), (0, 0, 270))):
            Circle(SKETCH22_R)
    extrude(amount=EXTRUDE22_DEPTH, mode=Mode.SUBTRACT)

    # Sketch23 → Extrude23 (cut, two sides: drawn at the far end of the back side and taken through both)
    with BuildSketch(Plane.XZ.offset(13.49).offset(-EXTRUDE23_DEPTH_BACK)):
        with Locations(Location((11.73538981, 5.406575299, 0), (0, 0, 270))):
            Circle(SKETCH23_R)
    extrude(amount=EXTRUDE23_DEPTH + EXTRUDE23_DEPTH_BACK, mode=Mode.SUBTRACT)

    # Sketch12 → Extrude12 (cut)
    with BuildSketch(Plane(origin=(0, 0, 0), x_dir=(1, 0, 0), z_dir=(0, 1, 0))):
        with Locations(Location((9.63, 4.53, 0), (0, 0, 180))):
            Circle(SKETCH12_R)
    extrude(amount=-EXTRUDE12_DEPTH, mode=Mode.SUBTRACT)

    # Sketch13 → Extrude13 (cut)
    with BuildSketch(Plane.XZ.offset(28.98)):
        with Locations(Location((9.63, -4.53, 0), (0, 0, 270))):
            Circle(SKETCH13_R)
    extrude(amount=-EXTRUDE13_DEPTH, mode=Mode.SUBTRACT)

    # Extrude14: up to this cylinder (the profile starts outside it)
    extrude14_end = Plane(origin=(-13.6, 36.73, 0), z_dir=(1, 0, 0)) * Cylinder(EXTRUDE14_END_RADIUS, 228.462, mode=Mode.PRIVATE)
    # Sketch14 → Extrude14 (cut, up to the surface)
    with BuildSketch(Plane(origin=(0, 0, 0), x_dir=(1, 0, 0), z_dir=(0, 1, 0)), mode=Mode.PRIVATE) as extrude14_sk1:
        with Locations(Location((-13.6, 0, 0), (0, 0, 90))):
            Circle(SKETCH14_R)
    extrude14_tool1 = extrude(extrude14_sk1.sketch, amount=EXTRUDE14_REACH, mode=Mode.PRIVATE) - extrude14_end
    add(extrude14_tool1.solids().sort_by_distance((-13.6, 0, 0))[0], mode=Mode.SUBTRACT)

    # Sketch15 → Extrude15 (cut)
    with BuildSketch(Plane.XZ.offset(13.49)):
        with Locations((46.585, 0)):
            Rectangle(SKETCH15_W, SKETCH15_H)
    extrude(amount=-EXTRUDE15_DEPTH, mode=Mode.SUBTRACT)

    # Sketch24 → Extrude24 (cut)
    with BuildSketch(Plane(origin=(0, 0, -14), x_dir=(-1, 0, 0), z_dir=(0, 0, -1))):
        with BuildLine():
            Line((-84.8, 30.71), (-13.8, 30.71))
            Line((-13.8, 30.71), (-13.8, 6.5))
            Line((-13.8, 6.5), (-83.95, 6.5))
            ThreePointArc((-83.95, 6.5), (-86.332949853, 7.487050147), (-87.32, 9.87))
            Line((-87.32, 9.87), (-87.32, 15.96))
            ThreePointArc((-87.32, 15.96), (-86.716639969, 17.416639969), (-85.26, 18.02))
            Line((-85.26, 18.02), (-84.47, 18.02))
            ThreePointArc((-84.47, 18.02), (-83.27498954, 18.51498954), (-82.78, 19.71))
            Line((-82.78, 19.71), (-82.78, 23.71))
            Line((-82.78, 23.71), (-84.8, 23.71))
            Line((-84.8, 23.71), (-84.8, 30.71))
        make_face()
    extrude(amount=-EXTRUDE24_DEPTH, mode=Mode.SUBTRACT)

    # Sketch25 → Extrude25 (cut)
    with BuildSketch(Plane(origin=(0, 0, -14), x_dir=(-1, 0, 0), z_dir=(0, 0, -1))):
        with BuildLine():
            Line((-15.8, 6.5), (-15.8, 23.71))
            Line((-15.8, 23.71), (-89.32, 23.71))
            Line((-89.32, 23.71), (-89.32, 6.5))
            ThreePointArc((-89.32, 6.5), (-88.734213562, 5.085786438), (-87.32, 4.5))
            Line((-87.32, 4.5), (-17.8, 4.5))
            ThreePointArc((-17.8, 4.5), (-16.385786438, 5.085786438), (-15.8, 6.5))
        make_face()
        with BuildLine():
            Line((-17.8, 32.71), (-50.14, 32.71))
            ThreePointArc((-50.14, 32.71), (-51.554213562, 32.124213562), (-52.14, 30.71))
            Line((-52.14, 30.71), (-52.14, 28.71))
            Line((-52.14, 28.71), (-15.8, 28.71))
            Line((-15.8, 28.71), (-15.8, 30.71))
            ThreePointArc((-15.8, 30.71), (-16.385786438, 32.124213562), (-17.8, 32.71))
        make_face()
    extrude(amount=-EXTRUDE25_DEPTH, mode=Mode.SUBTRACT)

    # Sketch26 → Extrude26 (cut)
    with BuildSketch(Plane(origin=(0, 0, 5), x_dir=(-1, 0, 0), z_dir=(0, 0, -1))):
        with BuildLine():
            Line((-38.25, 30.71), (-68.47, 30.71))
            ThreePointArc((-68.47, 30.71), (-71.97, 27.21), (-68.47, 23.71))
            Line((-68.47, 23.71), (-38.25, 23.71))
            ThreePointArc((-38.25, 23.71), (-34.75, 27.21), (-38.25, 30.71))
        make_face()
    extrude(amount=-EXTRUDE26_DEPTH, mode=Mode.SUBTRACT)

    # Sketch4 → Cut-Revolve2 (revolve, cut)
    with BuildSketch(Plane.XY, mode=Mode.PRIVATE) as cut_revolve2_sk:
        Polygon((-32.954746832, 6.51), (-32.954746832, -3.49), (100.534470899, -3.49), (100.534470899, 4.51), (21.600016289, 4.51), (21.600016289, -0.99), (-1.117704794, -0.99), (-1.117704794, 6.51), align=None)
    revolve(cut_revolve2_sk.sketch.rotate(Axis((-36.156901719, -3.49, 0), (1, 0, 0)), 90), axis=Axis((-36.156901719, -3.49, 0), (1, 0, 0)), mode=Mode.SUBTRACT)

    # Sketch27 → Extrude27 (cut)
    with BuildSketch(Plane(origin=(0, 0, 5), x_dir=(-1, 0, 0), z_dir=(0, 0, -1))):
        with Locations((-65.64, 11.33)):
            Circle(SKETCH27_R)
        with Locations((-21.56, 26.46)):
            Circle(SKETCH27_R_2)
        with Locations((-85.26, 15.96)):
            Circle(SKETCH27_R_3)
        with Locations((-42.01, 11.33)):
            Circle(SKETCH27_R)
    extrude(amount=-EXTRUDE27_DEPTH, mode=Mode.SUBTRACT)

    # Sketch20 → Extrude20 (cut)
    with BuildSketch(Plane.XY.offset(-12)):
        with Locations((84.47, 19.71)):
            Circle(SKETCH20_R)
    extrude(amount=EXTRUDE20_DEPTH, mode=Mode.SUBTRACT)

    # 切除-拉伸1: up to this cylinder (the profile starts outside it)
    cut_extrude_1_end = Plane(origin=(57.535, 36.73, 0), z_dir=(1, 0, 0)) * Cylinder(CUT_EXTRUDE_1_END_RADIUS, 238.15, mode=Mode.PRIVATE)
    # 草图1 → 切除-拉伸1 (cut, up to the surface)
    with BuildSketch(Plane.XZ.offset(-30.71), mode=Mode.PRIVATE) as cut_extrude_1_sk1:
        with Locations((57.535, 0)):
            Rectangle(SKETCH_1_W, SKETCH_1_H)
    cut_extrude_1_tool1 = extrude(cut_extrude_1_sk1.sketch, amount=-CUT_EXTRUDE_1_REACH, mode=Mode.PRIVATE) - cut_extrude_1_end
    add(cut_extrude_1_tool1.solids().sort_by_distance((57.535, 30.71, 0))[0], mode=Mode.SUBTRACT)


solid = part.part
